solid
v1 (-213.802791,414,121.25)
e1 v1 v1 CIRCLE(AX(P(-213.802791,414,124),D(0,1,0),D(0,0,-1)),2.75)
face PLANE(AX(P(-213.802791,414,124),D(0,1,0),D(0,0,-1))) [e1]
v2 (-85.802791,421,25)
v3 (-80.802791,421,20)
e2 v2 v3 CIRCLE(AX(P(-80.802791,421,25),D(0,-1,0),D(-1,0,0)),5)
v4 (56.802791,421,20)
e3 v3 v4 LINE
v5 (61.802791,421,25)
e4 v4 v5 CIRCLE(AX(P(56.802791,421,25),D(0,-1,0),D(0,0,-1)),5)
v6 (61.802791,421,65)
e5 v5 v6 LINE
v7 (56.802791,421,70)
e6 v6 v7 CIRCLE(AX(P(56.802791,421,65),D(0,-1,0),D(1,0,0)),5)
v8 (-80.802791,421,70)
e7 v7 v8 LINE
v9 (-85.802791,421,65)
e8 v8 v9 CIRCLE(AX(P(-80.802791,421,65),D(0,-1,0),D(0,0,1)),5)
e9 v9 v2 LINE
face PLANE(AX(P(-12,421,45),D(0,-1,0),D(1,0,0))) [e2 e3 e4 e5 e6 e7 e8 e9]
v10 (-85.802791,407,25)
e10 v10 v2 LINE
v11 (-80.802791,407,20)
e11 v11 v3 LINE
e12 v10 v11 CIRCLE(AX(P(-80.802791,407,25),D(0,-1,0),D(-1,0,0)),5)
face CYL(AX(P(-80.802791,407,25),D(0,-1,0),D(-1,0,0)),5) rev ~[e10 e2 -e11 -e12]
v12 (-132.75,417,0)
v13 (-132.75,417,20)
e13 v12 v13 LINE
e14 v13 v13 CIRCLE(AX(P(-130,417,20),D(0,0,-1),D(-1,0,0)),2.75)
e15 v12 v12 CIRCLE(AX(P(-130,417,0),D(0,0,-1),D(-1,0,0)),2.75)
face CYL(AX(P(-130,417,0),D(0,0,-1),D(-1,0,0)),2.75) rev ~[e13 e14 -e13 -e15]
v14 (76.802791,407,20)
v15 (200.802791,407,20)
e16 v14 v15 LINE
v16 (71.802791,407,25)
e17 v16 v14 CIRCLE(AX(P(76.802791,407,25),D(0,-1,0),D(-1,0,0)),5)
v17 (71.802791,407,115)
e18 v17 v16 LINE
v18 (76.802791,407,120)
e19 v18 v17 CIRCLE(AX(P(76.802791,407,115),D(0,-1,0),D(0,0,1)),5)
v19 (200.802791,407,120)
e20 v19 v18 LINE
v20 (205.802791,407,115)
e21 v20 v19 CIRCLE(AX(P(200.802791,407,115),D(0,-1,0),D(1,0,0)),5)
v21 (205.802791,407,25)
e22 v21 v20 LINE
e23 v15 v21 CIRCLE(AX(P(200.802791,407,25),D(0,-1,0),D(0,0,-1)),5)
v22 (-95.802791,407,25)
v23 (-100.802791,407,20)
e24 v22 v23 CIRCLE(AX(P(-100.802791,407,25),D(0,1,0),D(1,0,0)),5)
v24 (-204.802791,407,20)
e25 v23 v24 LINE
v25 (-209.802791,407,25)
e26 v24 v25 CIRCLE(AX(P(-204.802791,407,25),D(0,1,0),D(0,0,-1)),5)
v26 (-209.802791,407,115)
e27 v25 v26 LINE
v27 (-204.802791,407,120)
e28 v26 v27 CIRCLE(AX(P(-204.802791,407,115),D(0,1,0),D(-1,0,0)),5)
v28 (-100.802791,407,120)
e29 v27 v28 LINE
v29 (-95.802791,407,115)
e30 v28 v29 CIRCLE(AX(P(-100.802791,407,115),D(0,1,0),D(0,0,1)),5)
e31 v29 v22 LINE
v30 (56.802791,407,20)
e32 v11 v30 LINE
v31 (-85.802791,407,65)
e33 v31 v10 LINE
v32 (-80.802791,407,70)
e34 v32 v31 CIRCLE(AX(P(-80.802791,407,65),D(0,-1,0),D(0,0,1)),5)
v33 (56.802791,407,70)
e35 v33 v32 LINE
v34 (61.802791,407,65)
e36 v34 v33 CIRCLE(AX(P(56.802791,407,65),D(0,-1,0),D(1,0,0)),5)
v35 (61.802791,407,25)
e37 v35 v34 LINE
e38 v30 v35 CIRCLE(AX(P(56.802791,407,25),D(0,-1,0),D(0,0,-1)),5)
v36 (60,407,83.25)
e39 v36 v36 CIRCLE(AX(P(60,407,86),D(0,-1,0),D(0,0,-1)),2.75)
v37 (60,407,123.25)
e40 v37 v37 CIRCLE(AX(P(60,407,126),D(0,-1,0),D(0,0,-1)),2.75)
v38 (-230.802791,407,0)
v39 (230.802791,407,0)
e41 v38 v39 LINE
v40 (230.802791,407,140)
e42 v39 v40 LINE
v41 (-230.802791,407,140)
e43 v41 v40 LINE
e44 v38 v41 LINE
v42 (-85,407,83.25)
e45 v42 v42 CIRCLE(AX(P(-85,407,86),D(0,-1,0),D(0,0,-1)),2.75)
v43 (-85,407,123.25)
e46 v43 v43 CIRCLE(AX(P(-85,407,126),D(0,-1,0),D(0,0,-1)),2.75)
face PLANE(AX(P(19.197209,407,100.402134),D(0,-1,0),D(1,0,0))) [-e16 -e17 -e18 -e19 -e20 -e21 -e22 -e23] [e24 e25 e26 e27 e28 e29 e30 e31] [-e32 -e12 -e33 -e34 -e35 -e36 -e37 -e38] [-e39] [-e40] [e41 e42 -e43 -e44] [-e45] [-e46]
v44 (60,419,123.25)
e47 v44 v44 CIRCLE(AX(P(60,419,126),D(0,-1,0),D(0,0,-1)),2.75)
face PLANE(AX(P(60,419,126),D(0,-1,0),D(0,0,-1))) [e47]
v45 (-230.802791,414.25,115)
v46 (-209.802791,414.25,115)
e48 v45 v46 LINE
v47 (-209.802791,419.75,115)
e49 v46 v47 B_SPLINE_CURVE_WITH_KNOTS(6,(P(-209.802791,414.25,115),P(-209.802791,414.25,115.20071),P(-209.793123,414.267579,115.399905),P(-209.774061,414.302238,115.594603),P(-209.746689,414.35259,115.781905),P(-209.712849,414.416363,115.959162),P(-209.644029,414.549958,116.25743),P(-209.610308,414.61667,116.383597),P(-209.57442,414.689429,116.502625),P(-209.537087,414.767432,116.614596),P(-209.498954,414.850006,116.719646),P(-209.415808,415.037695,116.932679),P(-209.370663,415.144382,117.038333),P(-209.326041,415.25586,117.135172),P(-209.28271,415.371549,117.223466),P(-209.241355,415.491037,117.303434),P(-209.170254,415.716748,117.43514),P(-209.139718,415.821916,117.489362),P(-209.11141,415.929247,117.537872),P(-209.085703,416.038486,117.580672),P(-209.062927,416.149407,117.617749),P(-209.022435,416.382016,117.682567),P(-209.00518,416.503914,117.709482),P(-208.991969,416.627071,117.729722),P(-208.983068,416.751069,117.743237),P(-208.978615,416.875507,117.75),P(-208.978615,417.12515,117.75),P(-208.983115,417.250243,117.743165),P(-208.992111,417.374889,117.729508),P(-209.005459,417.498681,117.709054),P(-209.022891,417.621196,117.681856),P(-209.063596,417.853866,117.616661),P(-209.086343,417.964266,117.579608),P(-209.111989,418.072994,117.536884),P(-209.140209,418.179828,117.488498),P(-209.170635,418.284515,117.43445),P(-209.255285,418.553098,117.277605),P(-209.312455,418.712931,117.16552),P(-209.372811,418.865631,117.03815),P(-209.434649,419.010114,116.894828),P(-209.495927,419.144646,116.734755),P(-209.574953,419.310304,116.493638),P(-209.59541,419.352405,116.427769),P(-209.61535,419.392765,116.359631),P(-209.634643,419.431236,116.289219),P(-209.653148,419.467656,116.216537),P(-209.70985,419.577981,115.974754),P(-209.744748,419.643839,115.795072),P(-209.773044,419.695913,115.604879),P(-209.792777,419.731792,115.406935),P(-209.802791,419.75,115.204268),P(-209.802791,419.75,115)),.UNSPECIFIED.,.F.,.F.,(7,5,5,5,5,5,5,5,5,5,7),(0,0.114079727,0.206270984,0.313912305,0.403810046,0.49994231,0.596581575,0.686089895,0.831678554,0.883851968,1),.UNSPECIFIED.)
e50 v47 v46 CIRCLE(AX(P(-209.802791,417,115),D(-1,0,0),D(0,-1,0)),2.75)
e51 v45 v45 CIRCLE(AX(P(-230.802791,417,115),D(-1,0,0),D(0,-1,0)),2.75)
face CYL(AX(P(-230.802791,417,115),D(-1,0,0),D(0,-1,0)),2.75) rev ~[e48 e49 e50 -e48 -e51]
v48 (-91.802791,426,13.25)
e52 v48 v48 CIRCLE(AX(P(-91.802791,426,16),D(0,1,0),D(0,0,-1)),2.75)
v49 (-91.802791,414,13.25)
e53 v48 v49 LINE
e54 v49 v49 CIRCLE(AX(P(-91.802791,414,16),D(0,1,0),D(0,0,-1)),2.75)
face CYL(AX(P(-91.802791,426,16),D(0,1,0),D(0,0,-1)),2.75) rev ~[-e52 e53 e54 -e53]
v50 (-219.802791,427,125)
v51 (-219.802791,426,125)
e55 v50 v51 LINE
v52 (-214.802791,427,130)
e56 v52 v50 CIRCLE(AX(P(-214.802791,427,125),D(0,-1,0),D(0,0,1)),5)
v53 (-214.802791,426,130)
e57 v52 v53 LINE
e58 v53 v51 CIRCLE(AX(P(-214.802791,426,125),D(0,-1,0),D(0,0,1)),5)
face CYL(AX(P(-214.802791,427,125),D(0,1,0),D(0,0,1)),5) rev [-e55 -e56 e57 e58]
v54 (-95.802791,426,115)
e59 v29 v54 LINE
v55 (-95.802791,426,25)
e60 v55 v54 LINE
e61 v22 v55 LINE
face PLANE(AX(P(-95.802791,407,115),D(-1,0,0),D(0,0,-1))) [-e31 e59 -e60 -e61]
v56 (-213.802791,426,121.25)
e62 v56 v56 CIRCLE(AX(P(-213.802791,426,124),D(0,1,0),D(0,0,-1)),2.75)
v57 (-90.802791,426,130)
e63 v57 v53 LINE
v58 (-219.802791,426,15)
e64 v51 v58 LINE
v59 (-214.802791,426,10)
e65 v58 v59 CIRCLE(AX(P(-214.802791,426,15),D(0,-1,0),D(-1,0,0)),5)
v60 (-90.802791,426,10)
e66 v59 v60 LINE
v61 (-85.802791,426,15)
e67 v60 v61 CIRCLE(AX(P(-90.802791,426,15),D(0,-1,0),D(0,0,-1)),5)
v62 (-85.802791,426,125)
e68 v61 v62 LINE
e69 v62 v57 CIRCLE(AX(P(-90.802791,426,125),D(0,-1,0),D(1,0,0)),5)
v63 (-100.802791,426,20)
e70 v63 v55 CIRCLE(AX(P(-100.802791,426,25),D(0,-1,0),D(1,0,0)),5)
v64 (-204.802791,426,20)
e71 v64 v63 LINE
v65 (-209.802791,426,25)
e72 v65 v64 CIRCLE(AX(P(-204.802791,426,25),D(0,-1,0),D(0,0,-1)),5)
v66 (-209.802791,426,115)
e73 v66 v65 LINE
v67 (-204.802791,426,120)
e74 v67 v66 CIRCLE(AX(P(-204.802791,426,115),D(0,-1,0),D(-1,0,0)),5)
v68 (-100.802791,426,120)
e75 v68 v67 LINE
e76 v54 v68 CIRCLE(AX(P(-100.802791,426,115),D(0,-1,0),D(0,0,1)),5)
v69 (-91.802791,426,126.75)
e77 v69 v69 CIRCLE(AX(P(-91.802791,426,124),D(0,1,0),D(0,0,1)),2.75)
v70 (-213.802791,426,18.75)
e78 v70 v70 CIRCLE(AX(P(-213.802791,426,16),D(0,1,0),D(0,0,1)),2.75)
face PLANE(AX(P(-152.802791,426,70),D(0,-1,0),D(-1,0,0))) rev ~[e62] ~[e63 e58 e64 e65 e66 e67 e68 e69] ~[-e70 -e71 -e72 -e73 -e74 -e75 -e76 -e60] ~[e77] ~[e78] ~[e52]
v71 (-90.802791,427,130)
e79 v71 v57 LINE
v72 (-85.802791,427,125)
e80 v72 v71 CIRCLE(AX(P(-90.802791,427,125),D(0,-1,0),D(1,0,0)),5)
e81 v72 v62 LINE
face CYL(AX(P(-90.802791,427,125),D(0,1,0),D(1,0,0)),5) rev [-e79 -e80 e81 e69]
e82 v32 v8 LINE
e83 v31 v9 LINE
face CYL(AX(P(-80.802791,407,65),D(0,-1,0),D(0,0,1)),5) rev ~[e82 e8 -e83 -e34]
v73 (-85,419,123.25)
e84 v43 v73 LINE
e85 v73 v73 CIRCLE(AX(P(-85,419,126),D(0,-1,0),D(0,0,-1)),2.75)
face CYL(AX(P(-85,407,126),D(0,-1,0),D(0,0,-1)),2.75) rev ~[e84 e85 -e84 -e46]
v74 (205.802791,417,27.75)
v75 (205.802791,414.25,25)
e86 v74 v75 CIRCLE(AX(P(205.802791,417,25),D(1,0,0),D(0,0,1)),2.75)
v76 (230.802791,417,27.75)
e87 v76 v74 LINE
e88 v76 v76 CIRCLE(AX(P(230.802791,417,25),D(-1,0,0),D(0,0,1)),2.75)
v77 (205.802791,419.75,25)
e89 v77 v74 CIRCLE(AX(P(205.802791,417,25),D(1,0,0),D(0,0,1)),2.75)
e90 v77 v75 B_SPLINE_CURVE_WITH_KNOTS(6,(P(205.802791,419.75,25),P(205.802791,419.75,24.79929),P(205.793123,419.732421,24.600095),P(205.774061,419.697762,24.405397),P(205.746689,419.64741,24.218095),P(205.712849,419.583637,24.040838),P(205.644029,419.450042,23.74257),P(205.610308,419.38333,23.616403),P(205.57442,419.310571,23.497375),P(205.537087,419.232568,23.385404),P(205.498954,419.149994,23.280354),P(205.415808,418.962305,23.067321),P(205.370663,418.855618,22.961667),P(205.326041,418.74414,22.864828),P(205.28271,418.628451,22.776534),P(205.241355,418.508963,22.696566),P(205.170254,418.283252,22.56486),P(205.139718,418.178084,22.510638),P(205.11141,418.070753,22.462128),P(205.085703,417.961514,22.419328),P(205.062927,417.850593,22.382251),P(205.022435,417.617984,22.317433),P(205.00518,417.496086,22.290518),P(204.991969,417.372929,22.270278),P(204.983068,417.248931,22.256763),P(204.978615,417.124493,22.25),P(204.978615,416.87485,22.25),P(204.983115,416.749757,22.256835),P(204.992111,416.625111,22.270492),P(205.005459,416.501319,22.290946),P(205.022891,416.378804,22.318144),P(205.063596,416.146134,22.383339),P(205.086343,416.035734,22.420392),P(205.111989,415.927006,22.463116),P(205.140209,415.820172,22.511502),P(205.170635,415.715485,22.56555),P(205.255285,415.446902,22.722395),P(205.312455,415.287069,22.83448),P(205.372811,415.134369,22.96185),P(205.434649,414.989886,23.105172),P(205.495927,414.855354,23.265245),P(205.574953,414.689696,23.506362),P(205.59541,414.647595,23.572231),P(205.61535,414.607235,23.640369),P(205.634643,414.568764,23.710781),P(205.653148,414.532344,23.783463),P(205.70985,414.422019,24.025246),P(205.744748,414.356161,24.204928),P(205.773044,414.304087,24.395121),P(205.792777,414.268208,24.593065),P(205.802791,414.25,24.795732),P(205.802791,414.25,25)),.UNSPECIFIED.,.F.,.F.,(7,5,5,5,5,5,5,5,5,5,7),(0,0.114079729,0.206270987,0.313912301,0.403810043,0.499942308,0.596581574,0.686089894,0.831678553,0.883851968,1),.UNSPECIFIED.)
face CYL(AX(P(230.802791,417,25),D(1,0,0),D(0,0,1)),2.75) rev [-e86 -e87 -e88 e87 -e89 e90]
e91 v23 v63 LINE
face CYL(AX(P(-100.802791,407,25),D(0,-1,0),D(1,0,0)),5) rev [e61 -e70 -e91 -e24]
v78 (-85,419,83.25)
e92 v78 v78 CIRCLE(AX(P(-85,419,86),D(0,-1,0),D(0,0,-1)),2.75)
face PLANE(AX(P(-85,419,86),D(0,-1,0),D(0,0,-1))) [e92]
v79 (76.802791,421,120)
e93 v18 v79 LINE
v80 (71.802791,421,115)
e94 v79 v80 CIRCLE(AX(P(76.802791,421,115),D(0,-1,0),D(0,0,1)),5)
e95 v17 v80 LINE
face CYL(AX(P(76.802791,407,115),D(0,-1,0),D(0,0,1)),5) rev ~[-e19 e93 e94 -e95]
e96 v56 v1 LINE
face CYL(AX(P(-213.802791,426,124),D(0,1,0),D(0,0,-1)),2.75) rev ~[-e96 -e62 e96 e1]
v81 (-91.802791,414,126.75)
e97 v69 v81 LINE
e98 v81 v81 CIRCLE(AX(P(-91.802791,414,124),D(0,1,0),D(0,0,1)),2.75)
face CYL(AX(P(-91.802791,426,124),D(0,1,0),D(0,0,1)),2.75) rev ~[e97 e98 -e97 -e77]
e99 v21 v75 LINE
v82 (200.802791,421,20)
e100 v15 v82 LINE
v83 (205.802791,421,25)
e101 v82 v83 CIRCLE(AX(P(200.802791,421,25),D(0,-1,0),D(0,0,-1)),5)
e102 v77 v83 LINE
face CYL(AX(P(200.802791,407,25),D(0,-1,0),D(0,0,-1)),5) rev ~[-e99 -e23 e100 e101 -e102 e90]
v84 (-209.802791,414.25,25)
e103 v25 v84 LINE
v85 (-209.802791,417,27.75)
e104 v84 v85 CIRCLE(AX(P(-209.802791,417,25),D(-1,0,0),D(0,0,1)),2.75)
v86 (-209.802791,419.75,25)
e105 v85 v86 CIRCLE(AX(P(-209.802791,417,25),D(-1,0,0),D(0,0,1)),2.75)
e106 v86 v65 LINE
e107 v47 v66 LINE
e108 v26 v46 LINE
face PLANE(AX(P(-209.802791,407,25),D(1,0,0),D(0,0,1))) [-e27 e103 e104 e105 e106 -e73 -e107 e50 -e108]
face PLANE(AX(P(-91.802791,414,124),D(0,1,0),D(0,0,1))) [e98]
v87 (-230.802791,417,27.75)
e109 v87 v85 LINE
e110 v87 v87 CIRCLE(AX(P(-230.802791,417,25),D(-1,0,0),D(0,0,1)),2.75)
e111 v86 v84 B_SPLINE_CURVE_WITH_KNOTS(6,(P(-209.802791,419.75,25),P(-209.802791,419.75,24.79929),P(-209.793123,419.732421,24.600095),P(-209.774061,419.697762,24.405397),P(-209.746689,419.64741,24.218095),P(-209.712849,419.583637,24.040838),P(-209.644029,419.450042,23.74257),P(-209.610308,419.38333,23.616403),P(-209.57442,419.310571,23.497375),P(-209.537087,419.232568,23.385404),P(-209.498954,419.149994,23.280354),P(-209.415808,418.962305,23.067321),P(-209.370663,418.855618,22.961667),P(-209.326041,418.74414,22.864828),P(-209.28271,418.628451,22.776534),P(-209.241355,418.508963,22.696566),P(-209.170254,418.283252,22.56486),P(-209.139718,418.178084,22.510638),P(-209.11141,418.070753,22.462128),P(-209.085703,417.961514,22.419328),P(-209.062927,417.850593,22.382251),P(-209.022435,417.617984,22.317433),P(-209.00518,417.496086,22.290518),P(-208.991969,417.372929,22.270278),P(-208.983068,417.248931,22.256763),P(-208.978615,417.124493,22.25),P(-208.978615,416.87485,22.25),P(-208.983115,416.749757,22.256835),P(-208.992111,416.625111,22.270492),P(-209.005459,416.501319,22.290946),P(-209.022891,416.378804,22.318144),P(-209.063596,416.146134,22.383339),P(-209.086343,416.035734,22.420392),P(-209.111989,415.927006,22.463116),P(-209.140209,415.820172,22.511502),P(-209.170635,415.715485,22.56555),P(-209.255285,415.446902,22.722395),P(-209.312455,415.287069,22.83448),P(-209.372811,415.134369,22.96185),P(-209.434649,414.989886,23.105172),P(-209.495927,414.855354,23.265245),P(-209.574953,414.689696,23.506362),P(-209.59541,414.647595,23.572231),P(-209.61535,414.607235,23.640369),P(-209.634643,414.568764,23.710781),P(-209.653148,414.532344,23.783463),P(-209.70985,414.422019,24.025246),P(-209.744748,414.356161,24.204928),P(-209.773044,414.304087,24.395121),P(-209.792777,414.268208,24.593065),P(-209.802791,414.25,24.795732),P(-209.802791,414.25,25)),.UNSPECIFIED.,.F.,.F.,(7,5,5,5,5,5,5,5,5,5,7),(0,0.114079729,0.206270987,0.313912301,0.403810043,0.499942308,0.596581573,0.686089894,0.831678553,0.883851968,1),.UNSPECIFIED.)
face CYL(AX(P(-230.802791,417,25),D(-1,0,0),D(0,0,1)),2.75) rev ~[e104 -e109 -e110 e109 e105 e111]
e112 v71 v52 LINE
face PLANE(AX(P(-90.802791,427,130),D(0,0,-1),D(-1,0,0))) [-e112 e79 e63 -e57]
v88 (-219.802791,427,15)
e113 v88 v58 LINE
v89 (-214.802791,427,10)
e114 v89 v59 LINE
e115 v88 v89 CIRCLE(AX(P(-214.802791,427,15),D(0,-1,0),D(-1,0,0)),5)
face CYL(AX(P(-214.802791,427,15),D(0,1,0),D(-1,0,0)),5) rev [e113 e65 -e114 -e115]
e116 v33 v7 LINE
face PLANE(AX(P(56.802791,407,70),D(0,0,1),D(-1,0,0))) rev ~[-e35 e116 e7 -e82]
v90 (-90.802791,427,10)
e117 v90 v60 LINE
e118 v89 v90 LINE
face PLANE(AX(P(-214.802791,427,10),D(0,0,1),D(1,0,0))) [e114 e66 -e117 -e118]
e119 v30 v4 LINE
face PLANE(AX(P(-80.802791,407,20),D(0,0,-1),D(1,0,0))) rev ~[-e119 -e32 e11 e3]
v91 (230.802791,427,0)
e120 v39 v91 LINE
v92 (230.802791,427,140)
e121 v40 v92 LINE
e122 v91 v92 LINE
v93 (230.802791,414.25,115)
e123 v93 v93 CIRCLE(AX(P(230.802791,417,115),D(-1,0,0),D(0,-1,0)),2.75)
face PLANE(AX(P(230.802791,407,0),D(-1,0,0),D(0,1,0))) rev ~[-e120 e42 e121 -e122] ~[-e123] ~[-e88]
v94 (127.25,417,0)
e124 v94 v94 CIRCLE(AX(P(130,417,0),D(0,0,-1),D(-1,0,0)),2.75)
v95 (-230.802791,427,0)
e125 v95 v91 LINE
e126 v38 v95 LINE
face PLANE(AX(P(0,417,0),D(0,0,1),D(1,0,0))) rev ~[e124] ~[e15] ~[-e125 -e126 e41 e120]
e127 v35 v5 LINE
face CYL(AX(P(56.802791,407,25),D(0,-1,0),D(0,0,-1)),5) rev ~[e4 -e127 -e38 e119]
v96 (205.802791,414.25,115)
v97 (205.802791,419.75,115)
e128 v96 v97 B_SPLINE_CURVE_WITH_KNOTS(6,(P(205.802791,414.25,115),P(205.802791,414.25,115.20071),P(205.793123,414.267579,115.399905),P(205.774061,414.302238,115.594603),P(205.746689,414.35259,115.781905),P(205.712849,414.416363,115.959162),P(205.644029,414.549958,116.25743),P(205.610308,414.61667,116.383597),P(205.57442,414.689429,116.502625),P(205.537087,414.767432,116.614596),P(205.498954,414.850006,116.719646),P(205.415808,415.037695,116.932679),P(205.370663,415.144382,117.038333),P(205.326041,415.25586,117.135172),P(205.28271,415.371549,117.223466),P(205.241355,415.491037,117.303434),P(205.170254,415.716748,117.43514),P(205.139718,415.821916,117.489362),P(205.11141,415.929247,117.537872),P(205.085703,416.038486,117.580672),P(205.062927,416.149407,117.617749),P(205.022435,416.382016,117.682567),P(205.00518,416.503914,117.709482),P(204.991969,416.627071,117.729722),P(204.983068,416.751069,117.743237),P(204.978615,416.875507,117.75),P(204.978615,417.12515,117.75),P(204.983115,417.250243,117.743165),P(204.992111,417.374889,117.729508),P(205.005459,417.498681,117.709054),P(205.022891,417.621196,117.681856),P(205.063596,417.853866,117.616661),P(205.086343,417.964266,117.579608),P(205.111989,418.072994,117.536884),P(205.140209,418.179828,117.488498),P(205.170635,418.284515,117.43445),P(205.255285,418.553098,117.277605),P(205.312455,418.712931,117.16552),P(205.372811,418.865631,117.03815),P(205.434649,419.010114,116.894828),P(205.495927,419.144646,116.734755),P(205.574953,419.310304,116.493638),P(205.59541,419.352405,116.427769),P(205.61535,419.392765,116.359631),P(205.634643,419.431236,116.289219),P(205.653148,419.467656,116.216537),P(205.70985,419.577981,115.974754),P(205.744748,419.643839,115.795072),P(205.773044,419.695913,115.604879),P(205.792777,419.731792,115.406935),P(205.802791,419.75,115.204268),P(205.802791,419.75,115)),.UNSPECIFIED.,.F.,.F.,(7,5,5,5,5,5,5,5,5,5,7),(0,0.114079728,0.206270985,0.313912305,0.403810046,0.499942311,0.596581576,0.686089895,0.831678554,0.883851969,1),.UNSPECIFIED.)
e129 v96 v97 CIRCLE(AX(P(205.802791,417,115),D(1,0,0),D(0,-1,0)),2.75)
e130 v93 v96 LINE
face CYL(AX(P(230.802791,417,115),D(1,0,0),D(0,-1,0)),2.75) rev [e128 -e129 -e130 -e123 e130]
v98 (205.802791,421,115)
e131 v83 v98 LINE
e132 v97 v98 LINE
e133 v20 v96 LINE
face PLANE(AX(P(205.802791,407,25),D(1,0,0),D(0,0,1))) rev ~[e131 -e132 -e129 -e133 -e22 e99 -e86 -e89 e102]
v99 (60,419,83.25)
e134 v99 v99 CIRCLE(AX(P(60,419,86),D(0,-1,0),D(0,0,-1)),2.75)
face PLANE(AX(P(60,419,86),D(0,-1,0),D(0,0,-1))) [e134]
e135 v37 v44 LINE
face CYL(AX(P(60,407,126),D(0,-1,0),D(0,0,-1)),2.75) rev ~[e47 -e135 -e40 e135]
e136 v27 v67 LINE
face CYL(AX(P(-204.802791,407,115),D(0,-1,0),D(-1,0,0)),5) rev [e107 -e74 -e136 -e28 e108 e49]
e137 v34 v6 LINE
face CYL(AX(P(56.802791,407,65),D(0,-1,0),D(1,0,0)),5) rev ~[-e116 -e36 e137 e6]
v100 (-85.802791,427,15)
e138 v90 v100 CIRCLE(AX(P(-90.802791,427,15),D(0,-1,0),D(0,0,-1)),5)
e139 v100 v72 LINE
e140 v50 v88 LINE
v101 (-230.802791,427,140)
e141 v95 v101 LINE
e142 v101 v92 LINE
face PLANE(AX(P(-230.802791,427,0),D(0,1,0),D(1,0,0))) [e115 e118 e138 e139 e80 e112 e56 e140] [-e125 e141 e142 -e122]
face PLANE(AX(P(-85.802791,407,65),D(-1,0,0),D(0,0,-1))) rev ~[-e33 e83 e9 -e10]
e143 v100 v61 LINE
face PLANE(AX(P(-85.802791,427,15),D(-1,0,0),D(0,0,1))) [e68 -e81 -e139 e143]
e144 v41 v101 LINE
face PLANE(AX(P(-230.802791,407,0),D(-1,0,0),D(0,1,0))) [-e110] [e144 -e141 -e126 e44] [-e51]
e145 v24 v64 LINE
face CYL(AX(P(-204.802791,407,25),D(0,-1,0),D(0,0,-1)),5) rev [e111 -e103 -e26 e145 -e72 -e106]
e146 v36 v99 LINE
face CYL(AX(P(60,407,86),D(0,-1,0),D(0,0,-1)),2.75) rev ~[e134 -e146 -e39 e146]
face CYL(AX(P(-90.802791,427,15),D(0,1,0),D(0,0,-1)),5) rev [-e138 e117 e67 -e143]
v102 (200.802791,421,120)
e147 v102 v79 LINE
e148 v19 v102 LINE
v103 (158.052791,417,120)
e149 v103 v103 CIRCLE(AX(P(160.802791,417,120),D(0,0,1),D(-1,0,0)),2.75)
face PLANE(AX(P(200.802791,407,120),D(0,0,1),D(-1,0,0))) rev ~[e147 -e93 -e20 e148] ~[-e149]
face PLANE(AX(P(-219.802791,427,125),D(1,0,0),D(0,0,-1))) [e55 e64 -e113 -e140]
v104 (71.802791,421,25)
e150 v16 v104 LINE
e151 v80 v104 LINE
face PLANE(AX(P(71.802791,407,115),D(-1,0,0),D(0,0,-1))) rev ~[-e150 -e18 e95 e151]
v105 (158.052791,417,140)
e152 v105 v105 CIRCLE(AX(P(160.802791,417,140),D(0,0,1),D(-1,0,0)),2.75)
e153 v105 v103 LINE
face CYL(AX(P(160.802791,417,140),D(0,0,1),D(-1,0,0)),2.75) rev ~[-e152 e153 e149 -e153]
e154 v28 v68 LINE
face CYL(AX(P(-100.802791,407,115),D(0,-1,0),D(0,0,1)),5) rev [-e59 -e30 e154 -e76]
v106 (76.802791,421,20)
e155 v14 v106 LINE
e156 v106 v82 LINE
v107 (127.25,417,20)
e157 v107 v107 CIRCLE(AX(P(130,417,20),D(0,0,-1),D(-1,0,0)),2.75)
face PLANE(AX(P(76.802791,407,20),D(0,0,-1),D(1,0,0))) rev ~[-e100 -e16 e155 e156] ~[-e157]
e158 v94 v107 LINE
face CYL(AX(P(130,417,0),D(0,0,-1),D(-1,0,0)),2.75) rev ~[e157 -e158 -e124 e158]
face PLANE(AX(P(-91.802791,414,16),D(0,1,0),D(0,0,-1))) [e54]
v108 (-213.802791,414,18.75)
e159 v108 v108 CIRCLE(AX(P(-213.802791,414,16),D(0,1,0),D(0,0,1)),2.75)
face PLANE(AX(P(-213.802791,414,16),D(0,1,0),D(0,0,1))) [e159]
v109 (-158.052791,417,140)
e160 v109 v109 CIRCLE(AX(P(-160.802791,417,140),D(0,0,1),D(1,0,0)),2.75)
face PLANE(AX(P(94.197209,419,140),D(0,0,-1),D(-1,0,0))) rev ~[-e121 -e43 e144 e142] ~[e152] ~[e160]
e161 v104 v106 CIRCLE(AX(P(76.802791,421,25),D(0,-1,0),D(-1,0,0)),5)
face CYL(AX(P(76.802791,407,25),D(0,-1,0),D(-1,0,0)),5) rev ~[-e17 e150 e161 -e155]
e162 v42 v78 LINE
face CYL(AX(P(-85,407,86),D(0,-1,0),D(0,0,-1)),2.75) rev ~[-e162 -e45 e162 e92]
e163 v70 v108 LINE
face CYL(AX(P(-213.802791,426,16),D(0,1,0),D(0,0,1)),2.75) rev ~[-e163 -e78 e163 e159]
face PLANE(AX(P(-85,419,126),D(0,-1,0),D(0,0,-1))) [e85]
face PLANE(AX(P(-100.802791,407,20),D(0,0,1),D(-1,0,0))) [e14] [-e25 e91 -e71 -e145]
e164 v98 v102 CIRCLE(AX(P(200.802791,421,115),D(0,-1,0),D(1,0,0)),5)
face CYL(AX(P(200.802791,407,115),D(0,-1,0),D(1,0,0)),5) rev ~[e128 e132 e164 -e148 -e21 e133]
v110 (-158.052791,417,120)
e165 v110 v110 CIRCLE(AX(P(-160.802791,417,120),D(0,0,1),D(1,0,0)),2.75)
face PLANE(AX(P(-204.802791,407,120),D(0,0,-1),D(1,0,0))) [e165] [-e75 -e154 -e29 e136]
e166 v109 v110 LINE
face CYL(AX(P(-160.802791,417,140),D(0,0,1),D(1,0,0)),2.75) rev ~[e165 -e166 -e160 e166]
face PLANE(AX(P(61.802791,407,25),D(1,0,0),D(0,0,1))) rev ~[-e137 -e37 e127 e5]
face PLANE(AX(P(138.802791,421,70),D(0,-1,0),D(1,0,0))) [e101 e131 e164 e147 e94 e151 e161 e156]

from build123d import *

# Parameters (mm, degrees)
SKETCH1_W           = 461.60558249
SKETCH1_H           = 20
BOSS_EXTRUDE1_DEPTH = 140
SKETCH2_W           = 150
SKETCH2_H           = 12
CUT_EXTRUDE1_DEPTH  = 80
CUT_EXTRUDE2_DEPTH  = 271.684185808
CUT_EXTRUDE3_DEPTH  = 1
SKETCH5_R           = 2.75
CUT_EXTRUDE4_DEPTH  = 12
FILLET1_R           = 5
SKETCH7_R           = 2.75
CUT_EXTRUDE6_DEPTH  = 30
SKETCH8_R           = 2.75
CUT_EXTRUDE7_DEPTH  = 30
BOSS_EXTRUDE2_DEPTH = 12
SKETCH10_R          = 2.75
CUT_EXTRUDE8_DEPTH  = 12
CUT_EXTRUDE5_DEPTH  = 14
SKETCH11_R          = 2.75
CUT_EXTRUDE9_DEPTH  = 30


with BuildPart() as part:
    # Sketch1 → Boss-Extrude1 (new body)
    with BuildSketch(Plane.XY):
        with Locations((0, 417)):
            Rectangle(SKETCH1_W, SKETCH1_H)
    extrude(amount=BOSS_EXTRUDE1_DEPTH)

    # Sketch2 → Cut-Extrude1 (cut)
    with BuildSketch(Plane.XY.offset(140)):
        with Locations((19.197208755, 413)):
            Rectangle(SKETCH2_W, SKETCH2_H)
    extrude(amount=-CUT_EXTRUDE1_DEPTH, mode=Mode.SUBTRACT)

    # Sketch3 → Cut-Extrude2 (cut, through all)
    with BuildSketch(Plane.XZ.offset(-407)):
        with BuildLine():
            Line((-100.802791245, 20), (-204.802791245, 20))
            ThreePointArc((-204.802791245, 20), (-208.338325151, 21.464466094), (-209.802791245, 25))
            Line((-209.802791245, 25), (-209.802791245, 115))
            ThreePointArc((-209.802791245, 115), (-208.338325151, 118.535533906), (-204.802791245, 120))
            Line((-204.802791245, 120), (-100.802791245, 120))
            ThreePointArc((-100.802791245, 120), (-97.267257339, 118.535533906), (-95.802791245, 115))
            Line((-95.802791245, 115), (-95.802791245, 25))
            ThreePointArc((-95.802791245, 25), (-97.267257339, 21.464466094), (-100.802791245, 20))
        make_face()
    extrude(amount=-CUT_EXTRUDE2_DEPTH, mode=Mode.SUBTRACT)

    # Sketch4 → Cut-Extrude3 (cut)
    with BuildSketch(Plane(origin=(0, 427, 0), x_dir=(1, 0, 0), z_dir=(0, 1, 0))):
        with BuildLine():
            Line((-90.802791245, -130), (-214.802791245, -130))
            ThreePointArc((-214.802791245, -130), (-218.338325151, -128.535533906), (-219.802791245, -125))
            Line((-219.802791245, -125), (-219.802791245, -15))
            ThreePointArc((-219.802791245, -15), (-218.338325151, -11.464466094), (-214.802791245, -10))
            Line((-214.802791245, -10), (-90.802791245, -10))
            ThreePointArc((-90.802791245, -10), (-87.267257339, -11.464466094), (-85.802791245, -15))
            Line((-85.802791245, -15), (-85.802791245, -125))
            ThreePointArc((-85.802791245, -125), (-87.267257339, -128.535533906), (-90.802791245, -130))
        make_face()
    extrude(amount=-CUT_EXTRUDE3_DEPTH, mode=Mode.SUBTRACT)

    # Sketch5 → Cut-Extrude4 (cut)
    with BuildSketch(Plane(origin=(0, 426, 0), x_dir=(1, 0, 0), z_dir=(0, 1, 0))):
        with Locations(Location((-91.802791245, -124, 0), (0, 0, 270))):
            Circle(SKETCH5_R)
        with Locations(Location((-213.802791245, -124, 0), (0, 0, 90))):
            Circle(SKETCH5_R)
        with Locations(Location((-213.802791245, -16, 0), (0, 0, 270))):
            Circle(SKETCH5_R)
        with Locations(Location((-91.802791245, -16, 0), (0, 0, 90))):
            Circle(SKETCH5_R)
    extrude(amount=-CUT_EXTRUDE4_DEPTH, mode=Mode.SUBTRACT)

    # Fillet1
    fillet1_edges = [part.edges().sort_by_distance(p)[0] for p in [
        (94.197208755, 413, 60),
        (-55.802791245, 413, 60),
    ]]
    fillet(fillet1_edges, radius=FILLET1_R)

    # Sketch7 → Cut-Extrude6 (cut)
    with BuildSketch(Plane.ZY.offset(230.802791245)):
        with Locations((25, 417)):
            Circle(SKETCH7_R)
        with Locations(Location((115, 417, 0), (0, 0, 270))):
            Circle(SKETCH7_R)
    cut_extrude6 = extrude(amount=-CUT_EXTRUDE6_DEPTH, mode=Mode.SUBTRACT)

    # Mirror1: Cut-Extrude6 across plane
    add(cut_extrude6.mirror(Plane(origin=(0, 0, 0), x_dir=(0, 0, 1), z_dir=(1, 0, 0))), mode=Mode.SUBTRACT)

    # Sketch8 → Cut-Extrude7 (cut)
    with BuildSketch(Plane.XY.offset(140)):
        with Locations((-160.802791245, 417)):
            Circle(SKETCH8_R)
        with Locations(Location((160.802791245, 417, 0), (0, 0, 180))):
            Circle(SKETCH8_R)
    extrude(amount=-CUT_EXTRUDE7_DEPTH, mode=Mode.SUBTRACT)

    # Sketch9 → Boss-Extrude2 (add)
    with BuildSketch(Plane.XZ.offset(-419)):
        with BuildLine():
            Line((94.197208755, 65), (94.197208755, 140))
            Line((94.197208755, 140), (-55.802791245, 140))
            Line((-55.802791245, 140), (-55.802791245, 65))
            ThreePointArc((-55.802791245, 65), (-54.338325151, 61.464466094), (-50.802791245, 60))
            Line((-50.802791245, 60), (89.197208755, 60))
            ThreePointArc((89.197208755, 60), (92.732742661, 61.464466094), (94.197208755, 65))
        make_face()
    extrude(amount=BOSS_EXTRUDE2_DEPTH)

    # Sketch10 → Cut-Extrude8 (cut)
    with BuildSketch(Plane.XZ.offset(-407)):
        with Locations(Location((-85, 126, 0), (0, 0, 270))):
            Circle(SKETCH10_R)
        with Locations(Location((-85, 86, 0), (0, 0, 270))):
            Circle(SKETCH10_R)
        with Locations(Location((60, 126, 0), (0, 0, 270))):
            Circle(SKETCH10_R)
        with Locations(Location((60, 86, 0), (0, 0, 270))):
            Circle(SKETCH10_R)
    extrude(amount=-CUT_EXTRUDE8_DEPTH, mode=Mode.SUBTRACT)

    # Sketch6 → Cut-Extrude5 (cut)
    with BuildSketch(Plane.XZ.offset(-407)):
        with BuildLine():
            Line((200.802791245, 120), (76.802791245, 120))
            ThreePointArc((76.802791245, 120), (73.267257339, 118.535533906), (71.802791245, 115))
            Line((71.802791245, 115), (71.802791245, 25))
            ThreePointArc((71.802791245, 25), (73.267257339, 21.464466094), (76.802791245, 20))
            Line((76.802791245, 20), (200.802791245, 20))
            ThreePointArc((200.802791245, 20), (204.338325151, 21.464466094), (205.802791245, 25))
            Line((205.802791245, 25), (205.802791245, 115))
            ThreePointArc((205.802791245, 115), (204.338325151, 118.535533906), (200.802791245, 120))
        make_face()
        with BuildLine():
            Line((56.802791245, 70), (-80.802791245, 70))
            ThreePointArc((-80.802791245, 70), (-84.338325151, 68.535533906), (-85.802791245, 65))
            Line((-85.802791245, 65), (-85.802791245, 25))
            ThreePointArc((-85.802791245, 25), (-84.338325151, 21.464466094), (-80.802791245, 20))
            Line((-80.802791245, 20), (56.802791245, 20))
            ThreePointArc((56.802791245, 20), (60.338325151, 21.464466094), (61.802791245, 25))
            Line((61.802791245, 25), (61.802791245, 65))
            ThreePointArc((61.802791245, 65), (60.338325151, 68.535533906), (56.802791245, 70))
        make_face()
    extrude(amount=-CUT_EXTRUDE5_DEPTH, mode=Mode.SUBTRACT)

    # Sketch11 → Cut-Extrude9 (cut)
    with BuildSketch(Plane(origin=(0, 0, 0), x_dir=(-1, 0, 0), z_dir=(0, 0, -1))):
        with Locations((130, 417)):
            Circle(SKETCH11_R)
        with Locations((-130, 417)):
            Circle(SKETCH11_R)
    extrude(amount=-CUT_EXTRUDE9_DEPTH, mode=Mode.SUBTRACT)


solid = part.part
